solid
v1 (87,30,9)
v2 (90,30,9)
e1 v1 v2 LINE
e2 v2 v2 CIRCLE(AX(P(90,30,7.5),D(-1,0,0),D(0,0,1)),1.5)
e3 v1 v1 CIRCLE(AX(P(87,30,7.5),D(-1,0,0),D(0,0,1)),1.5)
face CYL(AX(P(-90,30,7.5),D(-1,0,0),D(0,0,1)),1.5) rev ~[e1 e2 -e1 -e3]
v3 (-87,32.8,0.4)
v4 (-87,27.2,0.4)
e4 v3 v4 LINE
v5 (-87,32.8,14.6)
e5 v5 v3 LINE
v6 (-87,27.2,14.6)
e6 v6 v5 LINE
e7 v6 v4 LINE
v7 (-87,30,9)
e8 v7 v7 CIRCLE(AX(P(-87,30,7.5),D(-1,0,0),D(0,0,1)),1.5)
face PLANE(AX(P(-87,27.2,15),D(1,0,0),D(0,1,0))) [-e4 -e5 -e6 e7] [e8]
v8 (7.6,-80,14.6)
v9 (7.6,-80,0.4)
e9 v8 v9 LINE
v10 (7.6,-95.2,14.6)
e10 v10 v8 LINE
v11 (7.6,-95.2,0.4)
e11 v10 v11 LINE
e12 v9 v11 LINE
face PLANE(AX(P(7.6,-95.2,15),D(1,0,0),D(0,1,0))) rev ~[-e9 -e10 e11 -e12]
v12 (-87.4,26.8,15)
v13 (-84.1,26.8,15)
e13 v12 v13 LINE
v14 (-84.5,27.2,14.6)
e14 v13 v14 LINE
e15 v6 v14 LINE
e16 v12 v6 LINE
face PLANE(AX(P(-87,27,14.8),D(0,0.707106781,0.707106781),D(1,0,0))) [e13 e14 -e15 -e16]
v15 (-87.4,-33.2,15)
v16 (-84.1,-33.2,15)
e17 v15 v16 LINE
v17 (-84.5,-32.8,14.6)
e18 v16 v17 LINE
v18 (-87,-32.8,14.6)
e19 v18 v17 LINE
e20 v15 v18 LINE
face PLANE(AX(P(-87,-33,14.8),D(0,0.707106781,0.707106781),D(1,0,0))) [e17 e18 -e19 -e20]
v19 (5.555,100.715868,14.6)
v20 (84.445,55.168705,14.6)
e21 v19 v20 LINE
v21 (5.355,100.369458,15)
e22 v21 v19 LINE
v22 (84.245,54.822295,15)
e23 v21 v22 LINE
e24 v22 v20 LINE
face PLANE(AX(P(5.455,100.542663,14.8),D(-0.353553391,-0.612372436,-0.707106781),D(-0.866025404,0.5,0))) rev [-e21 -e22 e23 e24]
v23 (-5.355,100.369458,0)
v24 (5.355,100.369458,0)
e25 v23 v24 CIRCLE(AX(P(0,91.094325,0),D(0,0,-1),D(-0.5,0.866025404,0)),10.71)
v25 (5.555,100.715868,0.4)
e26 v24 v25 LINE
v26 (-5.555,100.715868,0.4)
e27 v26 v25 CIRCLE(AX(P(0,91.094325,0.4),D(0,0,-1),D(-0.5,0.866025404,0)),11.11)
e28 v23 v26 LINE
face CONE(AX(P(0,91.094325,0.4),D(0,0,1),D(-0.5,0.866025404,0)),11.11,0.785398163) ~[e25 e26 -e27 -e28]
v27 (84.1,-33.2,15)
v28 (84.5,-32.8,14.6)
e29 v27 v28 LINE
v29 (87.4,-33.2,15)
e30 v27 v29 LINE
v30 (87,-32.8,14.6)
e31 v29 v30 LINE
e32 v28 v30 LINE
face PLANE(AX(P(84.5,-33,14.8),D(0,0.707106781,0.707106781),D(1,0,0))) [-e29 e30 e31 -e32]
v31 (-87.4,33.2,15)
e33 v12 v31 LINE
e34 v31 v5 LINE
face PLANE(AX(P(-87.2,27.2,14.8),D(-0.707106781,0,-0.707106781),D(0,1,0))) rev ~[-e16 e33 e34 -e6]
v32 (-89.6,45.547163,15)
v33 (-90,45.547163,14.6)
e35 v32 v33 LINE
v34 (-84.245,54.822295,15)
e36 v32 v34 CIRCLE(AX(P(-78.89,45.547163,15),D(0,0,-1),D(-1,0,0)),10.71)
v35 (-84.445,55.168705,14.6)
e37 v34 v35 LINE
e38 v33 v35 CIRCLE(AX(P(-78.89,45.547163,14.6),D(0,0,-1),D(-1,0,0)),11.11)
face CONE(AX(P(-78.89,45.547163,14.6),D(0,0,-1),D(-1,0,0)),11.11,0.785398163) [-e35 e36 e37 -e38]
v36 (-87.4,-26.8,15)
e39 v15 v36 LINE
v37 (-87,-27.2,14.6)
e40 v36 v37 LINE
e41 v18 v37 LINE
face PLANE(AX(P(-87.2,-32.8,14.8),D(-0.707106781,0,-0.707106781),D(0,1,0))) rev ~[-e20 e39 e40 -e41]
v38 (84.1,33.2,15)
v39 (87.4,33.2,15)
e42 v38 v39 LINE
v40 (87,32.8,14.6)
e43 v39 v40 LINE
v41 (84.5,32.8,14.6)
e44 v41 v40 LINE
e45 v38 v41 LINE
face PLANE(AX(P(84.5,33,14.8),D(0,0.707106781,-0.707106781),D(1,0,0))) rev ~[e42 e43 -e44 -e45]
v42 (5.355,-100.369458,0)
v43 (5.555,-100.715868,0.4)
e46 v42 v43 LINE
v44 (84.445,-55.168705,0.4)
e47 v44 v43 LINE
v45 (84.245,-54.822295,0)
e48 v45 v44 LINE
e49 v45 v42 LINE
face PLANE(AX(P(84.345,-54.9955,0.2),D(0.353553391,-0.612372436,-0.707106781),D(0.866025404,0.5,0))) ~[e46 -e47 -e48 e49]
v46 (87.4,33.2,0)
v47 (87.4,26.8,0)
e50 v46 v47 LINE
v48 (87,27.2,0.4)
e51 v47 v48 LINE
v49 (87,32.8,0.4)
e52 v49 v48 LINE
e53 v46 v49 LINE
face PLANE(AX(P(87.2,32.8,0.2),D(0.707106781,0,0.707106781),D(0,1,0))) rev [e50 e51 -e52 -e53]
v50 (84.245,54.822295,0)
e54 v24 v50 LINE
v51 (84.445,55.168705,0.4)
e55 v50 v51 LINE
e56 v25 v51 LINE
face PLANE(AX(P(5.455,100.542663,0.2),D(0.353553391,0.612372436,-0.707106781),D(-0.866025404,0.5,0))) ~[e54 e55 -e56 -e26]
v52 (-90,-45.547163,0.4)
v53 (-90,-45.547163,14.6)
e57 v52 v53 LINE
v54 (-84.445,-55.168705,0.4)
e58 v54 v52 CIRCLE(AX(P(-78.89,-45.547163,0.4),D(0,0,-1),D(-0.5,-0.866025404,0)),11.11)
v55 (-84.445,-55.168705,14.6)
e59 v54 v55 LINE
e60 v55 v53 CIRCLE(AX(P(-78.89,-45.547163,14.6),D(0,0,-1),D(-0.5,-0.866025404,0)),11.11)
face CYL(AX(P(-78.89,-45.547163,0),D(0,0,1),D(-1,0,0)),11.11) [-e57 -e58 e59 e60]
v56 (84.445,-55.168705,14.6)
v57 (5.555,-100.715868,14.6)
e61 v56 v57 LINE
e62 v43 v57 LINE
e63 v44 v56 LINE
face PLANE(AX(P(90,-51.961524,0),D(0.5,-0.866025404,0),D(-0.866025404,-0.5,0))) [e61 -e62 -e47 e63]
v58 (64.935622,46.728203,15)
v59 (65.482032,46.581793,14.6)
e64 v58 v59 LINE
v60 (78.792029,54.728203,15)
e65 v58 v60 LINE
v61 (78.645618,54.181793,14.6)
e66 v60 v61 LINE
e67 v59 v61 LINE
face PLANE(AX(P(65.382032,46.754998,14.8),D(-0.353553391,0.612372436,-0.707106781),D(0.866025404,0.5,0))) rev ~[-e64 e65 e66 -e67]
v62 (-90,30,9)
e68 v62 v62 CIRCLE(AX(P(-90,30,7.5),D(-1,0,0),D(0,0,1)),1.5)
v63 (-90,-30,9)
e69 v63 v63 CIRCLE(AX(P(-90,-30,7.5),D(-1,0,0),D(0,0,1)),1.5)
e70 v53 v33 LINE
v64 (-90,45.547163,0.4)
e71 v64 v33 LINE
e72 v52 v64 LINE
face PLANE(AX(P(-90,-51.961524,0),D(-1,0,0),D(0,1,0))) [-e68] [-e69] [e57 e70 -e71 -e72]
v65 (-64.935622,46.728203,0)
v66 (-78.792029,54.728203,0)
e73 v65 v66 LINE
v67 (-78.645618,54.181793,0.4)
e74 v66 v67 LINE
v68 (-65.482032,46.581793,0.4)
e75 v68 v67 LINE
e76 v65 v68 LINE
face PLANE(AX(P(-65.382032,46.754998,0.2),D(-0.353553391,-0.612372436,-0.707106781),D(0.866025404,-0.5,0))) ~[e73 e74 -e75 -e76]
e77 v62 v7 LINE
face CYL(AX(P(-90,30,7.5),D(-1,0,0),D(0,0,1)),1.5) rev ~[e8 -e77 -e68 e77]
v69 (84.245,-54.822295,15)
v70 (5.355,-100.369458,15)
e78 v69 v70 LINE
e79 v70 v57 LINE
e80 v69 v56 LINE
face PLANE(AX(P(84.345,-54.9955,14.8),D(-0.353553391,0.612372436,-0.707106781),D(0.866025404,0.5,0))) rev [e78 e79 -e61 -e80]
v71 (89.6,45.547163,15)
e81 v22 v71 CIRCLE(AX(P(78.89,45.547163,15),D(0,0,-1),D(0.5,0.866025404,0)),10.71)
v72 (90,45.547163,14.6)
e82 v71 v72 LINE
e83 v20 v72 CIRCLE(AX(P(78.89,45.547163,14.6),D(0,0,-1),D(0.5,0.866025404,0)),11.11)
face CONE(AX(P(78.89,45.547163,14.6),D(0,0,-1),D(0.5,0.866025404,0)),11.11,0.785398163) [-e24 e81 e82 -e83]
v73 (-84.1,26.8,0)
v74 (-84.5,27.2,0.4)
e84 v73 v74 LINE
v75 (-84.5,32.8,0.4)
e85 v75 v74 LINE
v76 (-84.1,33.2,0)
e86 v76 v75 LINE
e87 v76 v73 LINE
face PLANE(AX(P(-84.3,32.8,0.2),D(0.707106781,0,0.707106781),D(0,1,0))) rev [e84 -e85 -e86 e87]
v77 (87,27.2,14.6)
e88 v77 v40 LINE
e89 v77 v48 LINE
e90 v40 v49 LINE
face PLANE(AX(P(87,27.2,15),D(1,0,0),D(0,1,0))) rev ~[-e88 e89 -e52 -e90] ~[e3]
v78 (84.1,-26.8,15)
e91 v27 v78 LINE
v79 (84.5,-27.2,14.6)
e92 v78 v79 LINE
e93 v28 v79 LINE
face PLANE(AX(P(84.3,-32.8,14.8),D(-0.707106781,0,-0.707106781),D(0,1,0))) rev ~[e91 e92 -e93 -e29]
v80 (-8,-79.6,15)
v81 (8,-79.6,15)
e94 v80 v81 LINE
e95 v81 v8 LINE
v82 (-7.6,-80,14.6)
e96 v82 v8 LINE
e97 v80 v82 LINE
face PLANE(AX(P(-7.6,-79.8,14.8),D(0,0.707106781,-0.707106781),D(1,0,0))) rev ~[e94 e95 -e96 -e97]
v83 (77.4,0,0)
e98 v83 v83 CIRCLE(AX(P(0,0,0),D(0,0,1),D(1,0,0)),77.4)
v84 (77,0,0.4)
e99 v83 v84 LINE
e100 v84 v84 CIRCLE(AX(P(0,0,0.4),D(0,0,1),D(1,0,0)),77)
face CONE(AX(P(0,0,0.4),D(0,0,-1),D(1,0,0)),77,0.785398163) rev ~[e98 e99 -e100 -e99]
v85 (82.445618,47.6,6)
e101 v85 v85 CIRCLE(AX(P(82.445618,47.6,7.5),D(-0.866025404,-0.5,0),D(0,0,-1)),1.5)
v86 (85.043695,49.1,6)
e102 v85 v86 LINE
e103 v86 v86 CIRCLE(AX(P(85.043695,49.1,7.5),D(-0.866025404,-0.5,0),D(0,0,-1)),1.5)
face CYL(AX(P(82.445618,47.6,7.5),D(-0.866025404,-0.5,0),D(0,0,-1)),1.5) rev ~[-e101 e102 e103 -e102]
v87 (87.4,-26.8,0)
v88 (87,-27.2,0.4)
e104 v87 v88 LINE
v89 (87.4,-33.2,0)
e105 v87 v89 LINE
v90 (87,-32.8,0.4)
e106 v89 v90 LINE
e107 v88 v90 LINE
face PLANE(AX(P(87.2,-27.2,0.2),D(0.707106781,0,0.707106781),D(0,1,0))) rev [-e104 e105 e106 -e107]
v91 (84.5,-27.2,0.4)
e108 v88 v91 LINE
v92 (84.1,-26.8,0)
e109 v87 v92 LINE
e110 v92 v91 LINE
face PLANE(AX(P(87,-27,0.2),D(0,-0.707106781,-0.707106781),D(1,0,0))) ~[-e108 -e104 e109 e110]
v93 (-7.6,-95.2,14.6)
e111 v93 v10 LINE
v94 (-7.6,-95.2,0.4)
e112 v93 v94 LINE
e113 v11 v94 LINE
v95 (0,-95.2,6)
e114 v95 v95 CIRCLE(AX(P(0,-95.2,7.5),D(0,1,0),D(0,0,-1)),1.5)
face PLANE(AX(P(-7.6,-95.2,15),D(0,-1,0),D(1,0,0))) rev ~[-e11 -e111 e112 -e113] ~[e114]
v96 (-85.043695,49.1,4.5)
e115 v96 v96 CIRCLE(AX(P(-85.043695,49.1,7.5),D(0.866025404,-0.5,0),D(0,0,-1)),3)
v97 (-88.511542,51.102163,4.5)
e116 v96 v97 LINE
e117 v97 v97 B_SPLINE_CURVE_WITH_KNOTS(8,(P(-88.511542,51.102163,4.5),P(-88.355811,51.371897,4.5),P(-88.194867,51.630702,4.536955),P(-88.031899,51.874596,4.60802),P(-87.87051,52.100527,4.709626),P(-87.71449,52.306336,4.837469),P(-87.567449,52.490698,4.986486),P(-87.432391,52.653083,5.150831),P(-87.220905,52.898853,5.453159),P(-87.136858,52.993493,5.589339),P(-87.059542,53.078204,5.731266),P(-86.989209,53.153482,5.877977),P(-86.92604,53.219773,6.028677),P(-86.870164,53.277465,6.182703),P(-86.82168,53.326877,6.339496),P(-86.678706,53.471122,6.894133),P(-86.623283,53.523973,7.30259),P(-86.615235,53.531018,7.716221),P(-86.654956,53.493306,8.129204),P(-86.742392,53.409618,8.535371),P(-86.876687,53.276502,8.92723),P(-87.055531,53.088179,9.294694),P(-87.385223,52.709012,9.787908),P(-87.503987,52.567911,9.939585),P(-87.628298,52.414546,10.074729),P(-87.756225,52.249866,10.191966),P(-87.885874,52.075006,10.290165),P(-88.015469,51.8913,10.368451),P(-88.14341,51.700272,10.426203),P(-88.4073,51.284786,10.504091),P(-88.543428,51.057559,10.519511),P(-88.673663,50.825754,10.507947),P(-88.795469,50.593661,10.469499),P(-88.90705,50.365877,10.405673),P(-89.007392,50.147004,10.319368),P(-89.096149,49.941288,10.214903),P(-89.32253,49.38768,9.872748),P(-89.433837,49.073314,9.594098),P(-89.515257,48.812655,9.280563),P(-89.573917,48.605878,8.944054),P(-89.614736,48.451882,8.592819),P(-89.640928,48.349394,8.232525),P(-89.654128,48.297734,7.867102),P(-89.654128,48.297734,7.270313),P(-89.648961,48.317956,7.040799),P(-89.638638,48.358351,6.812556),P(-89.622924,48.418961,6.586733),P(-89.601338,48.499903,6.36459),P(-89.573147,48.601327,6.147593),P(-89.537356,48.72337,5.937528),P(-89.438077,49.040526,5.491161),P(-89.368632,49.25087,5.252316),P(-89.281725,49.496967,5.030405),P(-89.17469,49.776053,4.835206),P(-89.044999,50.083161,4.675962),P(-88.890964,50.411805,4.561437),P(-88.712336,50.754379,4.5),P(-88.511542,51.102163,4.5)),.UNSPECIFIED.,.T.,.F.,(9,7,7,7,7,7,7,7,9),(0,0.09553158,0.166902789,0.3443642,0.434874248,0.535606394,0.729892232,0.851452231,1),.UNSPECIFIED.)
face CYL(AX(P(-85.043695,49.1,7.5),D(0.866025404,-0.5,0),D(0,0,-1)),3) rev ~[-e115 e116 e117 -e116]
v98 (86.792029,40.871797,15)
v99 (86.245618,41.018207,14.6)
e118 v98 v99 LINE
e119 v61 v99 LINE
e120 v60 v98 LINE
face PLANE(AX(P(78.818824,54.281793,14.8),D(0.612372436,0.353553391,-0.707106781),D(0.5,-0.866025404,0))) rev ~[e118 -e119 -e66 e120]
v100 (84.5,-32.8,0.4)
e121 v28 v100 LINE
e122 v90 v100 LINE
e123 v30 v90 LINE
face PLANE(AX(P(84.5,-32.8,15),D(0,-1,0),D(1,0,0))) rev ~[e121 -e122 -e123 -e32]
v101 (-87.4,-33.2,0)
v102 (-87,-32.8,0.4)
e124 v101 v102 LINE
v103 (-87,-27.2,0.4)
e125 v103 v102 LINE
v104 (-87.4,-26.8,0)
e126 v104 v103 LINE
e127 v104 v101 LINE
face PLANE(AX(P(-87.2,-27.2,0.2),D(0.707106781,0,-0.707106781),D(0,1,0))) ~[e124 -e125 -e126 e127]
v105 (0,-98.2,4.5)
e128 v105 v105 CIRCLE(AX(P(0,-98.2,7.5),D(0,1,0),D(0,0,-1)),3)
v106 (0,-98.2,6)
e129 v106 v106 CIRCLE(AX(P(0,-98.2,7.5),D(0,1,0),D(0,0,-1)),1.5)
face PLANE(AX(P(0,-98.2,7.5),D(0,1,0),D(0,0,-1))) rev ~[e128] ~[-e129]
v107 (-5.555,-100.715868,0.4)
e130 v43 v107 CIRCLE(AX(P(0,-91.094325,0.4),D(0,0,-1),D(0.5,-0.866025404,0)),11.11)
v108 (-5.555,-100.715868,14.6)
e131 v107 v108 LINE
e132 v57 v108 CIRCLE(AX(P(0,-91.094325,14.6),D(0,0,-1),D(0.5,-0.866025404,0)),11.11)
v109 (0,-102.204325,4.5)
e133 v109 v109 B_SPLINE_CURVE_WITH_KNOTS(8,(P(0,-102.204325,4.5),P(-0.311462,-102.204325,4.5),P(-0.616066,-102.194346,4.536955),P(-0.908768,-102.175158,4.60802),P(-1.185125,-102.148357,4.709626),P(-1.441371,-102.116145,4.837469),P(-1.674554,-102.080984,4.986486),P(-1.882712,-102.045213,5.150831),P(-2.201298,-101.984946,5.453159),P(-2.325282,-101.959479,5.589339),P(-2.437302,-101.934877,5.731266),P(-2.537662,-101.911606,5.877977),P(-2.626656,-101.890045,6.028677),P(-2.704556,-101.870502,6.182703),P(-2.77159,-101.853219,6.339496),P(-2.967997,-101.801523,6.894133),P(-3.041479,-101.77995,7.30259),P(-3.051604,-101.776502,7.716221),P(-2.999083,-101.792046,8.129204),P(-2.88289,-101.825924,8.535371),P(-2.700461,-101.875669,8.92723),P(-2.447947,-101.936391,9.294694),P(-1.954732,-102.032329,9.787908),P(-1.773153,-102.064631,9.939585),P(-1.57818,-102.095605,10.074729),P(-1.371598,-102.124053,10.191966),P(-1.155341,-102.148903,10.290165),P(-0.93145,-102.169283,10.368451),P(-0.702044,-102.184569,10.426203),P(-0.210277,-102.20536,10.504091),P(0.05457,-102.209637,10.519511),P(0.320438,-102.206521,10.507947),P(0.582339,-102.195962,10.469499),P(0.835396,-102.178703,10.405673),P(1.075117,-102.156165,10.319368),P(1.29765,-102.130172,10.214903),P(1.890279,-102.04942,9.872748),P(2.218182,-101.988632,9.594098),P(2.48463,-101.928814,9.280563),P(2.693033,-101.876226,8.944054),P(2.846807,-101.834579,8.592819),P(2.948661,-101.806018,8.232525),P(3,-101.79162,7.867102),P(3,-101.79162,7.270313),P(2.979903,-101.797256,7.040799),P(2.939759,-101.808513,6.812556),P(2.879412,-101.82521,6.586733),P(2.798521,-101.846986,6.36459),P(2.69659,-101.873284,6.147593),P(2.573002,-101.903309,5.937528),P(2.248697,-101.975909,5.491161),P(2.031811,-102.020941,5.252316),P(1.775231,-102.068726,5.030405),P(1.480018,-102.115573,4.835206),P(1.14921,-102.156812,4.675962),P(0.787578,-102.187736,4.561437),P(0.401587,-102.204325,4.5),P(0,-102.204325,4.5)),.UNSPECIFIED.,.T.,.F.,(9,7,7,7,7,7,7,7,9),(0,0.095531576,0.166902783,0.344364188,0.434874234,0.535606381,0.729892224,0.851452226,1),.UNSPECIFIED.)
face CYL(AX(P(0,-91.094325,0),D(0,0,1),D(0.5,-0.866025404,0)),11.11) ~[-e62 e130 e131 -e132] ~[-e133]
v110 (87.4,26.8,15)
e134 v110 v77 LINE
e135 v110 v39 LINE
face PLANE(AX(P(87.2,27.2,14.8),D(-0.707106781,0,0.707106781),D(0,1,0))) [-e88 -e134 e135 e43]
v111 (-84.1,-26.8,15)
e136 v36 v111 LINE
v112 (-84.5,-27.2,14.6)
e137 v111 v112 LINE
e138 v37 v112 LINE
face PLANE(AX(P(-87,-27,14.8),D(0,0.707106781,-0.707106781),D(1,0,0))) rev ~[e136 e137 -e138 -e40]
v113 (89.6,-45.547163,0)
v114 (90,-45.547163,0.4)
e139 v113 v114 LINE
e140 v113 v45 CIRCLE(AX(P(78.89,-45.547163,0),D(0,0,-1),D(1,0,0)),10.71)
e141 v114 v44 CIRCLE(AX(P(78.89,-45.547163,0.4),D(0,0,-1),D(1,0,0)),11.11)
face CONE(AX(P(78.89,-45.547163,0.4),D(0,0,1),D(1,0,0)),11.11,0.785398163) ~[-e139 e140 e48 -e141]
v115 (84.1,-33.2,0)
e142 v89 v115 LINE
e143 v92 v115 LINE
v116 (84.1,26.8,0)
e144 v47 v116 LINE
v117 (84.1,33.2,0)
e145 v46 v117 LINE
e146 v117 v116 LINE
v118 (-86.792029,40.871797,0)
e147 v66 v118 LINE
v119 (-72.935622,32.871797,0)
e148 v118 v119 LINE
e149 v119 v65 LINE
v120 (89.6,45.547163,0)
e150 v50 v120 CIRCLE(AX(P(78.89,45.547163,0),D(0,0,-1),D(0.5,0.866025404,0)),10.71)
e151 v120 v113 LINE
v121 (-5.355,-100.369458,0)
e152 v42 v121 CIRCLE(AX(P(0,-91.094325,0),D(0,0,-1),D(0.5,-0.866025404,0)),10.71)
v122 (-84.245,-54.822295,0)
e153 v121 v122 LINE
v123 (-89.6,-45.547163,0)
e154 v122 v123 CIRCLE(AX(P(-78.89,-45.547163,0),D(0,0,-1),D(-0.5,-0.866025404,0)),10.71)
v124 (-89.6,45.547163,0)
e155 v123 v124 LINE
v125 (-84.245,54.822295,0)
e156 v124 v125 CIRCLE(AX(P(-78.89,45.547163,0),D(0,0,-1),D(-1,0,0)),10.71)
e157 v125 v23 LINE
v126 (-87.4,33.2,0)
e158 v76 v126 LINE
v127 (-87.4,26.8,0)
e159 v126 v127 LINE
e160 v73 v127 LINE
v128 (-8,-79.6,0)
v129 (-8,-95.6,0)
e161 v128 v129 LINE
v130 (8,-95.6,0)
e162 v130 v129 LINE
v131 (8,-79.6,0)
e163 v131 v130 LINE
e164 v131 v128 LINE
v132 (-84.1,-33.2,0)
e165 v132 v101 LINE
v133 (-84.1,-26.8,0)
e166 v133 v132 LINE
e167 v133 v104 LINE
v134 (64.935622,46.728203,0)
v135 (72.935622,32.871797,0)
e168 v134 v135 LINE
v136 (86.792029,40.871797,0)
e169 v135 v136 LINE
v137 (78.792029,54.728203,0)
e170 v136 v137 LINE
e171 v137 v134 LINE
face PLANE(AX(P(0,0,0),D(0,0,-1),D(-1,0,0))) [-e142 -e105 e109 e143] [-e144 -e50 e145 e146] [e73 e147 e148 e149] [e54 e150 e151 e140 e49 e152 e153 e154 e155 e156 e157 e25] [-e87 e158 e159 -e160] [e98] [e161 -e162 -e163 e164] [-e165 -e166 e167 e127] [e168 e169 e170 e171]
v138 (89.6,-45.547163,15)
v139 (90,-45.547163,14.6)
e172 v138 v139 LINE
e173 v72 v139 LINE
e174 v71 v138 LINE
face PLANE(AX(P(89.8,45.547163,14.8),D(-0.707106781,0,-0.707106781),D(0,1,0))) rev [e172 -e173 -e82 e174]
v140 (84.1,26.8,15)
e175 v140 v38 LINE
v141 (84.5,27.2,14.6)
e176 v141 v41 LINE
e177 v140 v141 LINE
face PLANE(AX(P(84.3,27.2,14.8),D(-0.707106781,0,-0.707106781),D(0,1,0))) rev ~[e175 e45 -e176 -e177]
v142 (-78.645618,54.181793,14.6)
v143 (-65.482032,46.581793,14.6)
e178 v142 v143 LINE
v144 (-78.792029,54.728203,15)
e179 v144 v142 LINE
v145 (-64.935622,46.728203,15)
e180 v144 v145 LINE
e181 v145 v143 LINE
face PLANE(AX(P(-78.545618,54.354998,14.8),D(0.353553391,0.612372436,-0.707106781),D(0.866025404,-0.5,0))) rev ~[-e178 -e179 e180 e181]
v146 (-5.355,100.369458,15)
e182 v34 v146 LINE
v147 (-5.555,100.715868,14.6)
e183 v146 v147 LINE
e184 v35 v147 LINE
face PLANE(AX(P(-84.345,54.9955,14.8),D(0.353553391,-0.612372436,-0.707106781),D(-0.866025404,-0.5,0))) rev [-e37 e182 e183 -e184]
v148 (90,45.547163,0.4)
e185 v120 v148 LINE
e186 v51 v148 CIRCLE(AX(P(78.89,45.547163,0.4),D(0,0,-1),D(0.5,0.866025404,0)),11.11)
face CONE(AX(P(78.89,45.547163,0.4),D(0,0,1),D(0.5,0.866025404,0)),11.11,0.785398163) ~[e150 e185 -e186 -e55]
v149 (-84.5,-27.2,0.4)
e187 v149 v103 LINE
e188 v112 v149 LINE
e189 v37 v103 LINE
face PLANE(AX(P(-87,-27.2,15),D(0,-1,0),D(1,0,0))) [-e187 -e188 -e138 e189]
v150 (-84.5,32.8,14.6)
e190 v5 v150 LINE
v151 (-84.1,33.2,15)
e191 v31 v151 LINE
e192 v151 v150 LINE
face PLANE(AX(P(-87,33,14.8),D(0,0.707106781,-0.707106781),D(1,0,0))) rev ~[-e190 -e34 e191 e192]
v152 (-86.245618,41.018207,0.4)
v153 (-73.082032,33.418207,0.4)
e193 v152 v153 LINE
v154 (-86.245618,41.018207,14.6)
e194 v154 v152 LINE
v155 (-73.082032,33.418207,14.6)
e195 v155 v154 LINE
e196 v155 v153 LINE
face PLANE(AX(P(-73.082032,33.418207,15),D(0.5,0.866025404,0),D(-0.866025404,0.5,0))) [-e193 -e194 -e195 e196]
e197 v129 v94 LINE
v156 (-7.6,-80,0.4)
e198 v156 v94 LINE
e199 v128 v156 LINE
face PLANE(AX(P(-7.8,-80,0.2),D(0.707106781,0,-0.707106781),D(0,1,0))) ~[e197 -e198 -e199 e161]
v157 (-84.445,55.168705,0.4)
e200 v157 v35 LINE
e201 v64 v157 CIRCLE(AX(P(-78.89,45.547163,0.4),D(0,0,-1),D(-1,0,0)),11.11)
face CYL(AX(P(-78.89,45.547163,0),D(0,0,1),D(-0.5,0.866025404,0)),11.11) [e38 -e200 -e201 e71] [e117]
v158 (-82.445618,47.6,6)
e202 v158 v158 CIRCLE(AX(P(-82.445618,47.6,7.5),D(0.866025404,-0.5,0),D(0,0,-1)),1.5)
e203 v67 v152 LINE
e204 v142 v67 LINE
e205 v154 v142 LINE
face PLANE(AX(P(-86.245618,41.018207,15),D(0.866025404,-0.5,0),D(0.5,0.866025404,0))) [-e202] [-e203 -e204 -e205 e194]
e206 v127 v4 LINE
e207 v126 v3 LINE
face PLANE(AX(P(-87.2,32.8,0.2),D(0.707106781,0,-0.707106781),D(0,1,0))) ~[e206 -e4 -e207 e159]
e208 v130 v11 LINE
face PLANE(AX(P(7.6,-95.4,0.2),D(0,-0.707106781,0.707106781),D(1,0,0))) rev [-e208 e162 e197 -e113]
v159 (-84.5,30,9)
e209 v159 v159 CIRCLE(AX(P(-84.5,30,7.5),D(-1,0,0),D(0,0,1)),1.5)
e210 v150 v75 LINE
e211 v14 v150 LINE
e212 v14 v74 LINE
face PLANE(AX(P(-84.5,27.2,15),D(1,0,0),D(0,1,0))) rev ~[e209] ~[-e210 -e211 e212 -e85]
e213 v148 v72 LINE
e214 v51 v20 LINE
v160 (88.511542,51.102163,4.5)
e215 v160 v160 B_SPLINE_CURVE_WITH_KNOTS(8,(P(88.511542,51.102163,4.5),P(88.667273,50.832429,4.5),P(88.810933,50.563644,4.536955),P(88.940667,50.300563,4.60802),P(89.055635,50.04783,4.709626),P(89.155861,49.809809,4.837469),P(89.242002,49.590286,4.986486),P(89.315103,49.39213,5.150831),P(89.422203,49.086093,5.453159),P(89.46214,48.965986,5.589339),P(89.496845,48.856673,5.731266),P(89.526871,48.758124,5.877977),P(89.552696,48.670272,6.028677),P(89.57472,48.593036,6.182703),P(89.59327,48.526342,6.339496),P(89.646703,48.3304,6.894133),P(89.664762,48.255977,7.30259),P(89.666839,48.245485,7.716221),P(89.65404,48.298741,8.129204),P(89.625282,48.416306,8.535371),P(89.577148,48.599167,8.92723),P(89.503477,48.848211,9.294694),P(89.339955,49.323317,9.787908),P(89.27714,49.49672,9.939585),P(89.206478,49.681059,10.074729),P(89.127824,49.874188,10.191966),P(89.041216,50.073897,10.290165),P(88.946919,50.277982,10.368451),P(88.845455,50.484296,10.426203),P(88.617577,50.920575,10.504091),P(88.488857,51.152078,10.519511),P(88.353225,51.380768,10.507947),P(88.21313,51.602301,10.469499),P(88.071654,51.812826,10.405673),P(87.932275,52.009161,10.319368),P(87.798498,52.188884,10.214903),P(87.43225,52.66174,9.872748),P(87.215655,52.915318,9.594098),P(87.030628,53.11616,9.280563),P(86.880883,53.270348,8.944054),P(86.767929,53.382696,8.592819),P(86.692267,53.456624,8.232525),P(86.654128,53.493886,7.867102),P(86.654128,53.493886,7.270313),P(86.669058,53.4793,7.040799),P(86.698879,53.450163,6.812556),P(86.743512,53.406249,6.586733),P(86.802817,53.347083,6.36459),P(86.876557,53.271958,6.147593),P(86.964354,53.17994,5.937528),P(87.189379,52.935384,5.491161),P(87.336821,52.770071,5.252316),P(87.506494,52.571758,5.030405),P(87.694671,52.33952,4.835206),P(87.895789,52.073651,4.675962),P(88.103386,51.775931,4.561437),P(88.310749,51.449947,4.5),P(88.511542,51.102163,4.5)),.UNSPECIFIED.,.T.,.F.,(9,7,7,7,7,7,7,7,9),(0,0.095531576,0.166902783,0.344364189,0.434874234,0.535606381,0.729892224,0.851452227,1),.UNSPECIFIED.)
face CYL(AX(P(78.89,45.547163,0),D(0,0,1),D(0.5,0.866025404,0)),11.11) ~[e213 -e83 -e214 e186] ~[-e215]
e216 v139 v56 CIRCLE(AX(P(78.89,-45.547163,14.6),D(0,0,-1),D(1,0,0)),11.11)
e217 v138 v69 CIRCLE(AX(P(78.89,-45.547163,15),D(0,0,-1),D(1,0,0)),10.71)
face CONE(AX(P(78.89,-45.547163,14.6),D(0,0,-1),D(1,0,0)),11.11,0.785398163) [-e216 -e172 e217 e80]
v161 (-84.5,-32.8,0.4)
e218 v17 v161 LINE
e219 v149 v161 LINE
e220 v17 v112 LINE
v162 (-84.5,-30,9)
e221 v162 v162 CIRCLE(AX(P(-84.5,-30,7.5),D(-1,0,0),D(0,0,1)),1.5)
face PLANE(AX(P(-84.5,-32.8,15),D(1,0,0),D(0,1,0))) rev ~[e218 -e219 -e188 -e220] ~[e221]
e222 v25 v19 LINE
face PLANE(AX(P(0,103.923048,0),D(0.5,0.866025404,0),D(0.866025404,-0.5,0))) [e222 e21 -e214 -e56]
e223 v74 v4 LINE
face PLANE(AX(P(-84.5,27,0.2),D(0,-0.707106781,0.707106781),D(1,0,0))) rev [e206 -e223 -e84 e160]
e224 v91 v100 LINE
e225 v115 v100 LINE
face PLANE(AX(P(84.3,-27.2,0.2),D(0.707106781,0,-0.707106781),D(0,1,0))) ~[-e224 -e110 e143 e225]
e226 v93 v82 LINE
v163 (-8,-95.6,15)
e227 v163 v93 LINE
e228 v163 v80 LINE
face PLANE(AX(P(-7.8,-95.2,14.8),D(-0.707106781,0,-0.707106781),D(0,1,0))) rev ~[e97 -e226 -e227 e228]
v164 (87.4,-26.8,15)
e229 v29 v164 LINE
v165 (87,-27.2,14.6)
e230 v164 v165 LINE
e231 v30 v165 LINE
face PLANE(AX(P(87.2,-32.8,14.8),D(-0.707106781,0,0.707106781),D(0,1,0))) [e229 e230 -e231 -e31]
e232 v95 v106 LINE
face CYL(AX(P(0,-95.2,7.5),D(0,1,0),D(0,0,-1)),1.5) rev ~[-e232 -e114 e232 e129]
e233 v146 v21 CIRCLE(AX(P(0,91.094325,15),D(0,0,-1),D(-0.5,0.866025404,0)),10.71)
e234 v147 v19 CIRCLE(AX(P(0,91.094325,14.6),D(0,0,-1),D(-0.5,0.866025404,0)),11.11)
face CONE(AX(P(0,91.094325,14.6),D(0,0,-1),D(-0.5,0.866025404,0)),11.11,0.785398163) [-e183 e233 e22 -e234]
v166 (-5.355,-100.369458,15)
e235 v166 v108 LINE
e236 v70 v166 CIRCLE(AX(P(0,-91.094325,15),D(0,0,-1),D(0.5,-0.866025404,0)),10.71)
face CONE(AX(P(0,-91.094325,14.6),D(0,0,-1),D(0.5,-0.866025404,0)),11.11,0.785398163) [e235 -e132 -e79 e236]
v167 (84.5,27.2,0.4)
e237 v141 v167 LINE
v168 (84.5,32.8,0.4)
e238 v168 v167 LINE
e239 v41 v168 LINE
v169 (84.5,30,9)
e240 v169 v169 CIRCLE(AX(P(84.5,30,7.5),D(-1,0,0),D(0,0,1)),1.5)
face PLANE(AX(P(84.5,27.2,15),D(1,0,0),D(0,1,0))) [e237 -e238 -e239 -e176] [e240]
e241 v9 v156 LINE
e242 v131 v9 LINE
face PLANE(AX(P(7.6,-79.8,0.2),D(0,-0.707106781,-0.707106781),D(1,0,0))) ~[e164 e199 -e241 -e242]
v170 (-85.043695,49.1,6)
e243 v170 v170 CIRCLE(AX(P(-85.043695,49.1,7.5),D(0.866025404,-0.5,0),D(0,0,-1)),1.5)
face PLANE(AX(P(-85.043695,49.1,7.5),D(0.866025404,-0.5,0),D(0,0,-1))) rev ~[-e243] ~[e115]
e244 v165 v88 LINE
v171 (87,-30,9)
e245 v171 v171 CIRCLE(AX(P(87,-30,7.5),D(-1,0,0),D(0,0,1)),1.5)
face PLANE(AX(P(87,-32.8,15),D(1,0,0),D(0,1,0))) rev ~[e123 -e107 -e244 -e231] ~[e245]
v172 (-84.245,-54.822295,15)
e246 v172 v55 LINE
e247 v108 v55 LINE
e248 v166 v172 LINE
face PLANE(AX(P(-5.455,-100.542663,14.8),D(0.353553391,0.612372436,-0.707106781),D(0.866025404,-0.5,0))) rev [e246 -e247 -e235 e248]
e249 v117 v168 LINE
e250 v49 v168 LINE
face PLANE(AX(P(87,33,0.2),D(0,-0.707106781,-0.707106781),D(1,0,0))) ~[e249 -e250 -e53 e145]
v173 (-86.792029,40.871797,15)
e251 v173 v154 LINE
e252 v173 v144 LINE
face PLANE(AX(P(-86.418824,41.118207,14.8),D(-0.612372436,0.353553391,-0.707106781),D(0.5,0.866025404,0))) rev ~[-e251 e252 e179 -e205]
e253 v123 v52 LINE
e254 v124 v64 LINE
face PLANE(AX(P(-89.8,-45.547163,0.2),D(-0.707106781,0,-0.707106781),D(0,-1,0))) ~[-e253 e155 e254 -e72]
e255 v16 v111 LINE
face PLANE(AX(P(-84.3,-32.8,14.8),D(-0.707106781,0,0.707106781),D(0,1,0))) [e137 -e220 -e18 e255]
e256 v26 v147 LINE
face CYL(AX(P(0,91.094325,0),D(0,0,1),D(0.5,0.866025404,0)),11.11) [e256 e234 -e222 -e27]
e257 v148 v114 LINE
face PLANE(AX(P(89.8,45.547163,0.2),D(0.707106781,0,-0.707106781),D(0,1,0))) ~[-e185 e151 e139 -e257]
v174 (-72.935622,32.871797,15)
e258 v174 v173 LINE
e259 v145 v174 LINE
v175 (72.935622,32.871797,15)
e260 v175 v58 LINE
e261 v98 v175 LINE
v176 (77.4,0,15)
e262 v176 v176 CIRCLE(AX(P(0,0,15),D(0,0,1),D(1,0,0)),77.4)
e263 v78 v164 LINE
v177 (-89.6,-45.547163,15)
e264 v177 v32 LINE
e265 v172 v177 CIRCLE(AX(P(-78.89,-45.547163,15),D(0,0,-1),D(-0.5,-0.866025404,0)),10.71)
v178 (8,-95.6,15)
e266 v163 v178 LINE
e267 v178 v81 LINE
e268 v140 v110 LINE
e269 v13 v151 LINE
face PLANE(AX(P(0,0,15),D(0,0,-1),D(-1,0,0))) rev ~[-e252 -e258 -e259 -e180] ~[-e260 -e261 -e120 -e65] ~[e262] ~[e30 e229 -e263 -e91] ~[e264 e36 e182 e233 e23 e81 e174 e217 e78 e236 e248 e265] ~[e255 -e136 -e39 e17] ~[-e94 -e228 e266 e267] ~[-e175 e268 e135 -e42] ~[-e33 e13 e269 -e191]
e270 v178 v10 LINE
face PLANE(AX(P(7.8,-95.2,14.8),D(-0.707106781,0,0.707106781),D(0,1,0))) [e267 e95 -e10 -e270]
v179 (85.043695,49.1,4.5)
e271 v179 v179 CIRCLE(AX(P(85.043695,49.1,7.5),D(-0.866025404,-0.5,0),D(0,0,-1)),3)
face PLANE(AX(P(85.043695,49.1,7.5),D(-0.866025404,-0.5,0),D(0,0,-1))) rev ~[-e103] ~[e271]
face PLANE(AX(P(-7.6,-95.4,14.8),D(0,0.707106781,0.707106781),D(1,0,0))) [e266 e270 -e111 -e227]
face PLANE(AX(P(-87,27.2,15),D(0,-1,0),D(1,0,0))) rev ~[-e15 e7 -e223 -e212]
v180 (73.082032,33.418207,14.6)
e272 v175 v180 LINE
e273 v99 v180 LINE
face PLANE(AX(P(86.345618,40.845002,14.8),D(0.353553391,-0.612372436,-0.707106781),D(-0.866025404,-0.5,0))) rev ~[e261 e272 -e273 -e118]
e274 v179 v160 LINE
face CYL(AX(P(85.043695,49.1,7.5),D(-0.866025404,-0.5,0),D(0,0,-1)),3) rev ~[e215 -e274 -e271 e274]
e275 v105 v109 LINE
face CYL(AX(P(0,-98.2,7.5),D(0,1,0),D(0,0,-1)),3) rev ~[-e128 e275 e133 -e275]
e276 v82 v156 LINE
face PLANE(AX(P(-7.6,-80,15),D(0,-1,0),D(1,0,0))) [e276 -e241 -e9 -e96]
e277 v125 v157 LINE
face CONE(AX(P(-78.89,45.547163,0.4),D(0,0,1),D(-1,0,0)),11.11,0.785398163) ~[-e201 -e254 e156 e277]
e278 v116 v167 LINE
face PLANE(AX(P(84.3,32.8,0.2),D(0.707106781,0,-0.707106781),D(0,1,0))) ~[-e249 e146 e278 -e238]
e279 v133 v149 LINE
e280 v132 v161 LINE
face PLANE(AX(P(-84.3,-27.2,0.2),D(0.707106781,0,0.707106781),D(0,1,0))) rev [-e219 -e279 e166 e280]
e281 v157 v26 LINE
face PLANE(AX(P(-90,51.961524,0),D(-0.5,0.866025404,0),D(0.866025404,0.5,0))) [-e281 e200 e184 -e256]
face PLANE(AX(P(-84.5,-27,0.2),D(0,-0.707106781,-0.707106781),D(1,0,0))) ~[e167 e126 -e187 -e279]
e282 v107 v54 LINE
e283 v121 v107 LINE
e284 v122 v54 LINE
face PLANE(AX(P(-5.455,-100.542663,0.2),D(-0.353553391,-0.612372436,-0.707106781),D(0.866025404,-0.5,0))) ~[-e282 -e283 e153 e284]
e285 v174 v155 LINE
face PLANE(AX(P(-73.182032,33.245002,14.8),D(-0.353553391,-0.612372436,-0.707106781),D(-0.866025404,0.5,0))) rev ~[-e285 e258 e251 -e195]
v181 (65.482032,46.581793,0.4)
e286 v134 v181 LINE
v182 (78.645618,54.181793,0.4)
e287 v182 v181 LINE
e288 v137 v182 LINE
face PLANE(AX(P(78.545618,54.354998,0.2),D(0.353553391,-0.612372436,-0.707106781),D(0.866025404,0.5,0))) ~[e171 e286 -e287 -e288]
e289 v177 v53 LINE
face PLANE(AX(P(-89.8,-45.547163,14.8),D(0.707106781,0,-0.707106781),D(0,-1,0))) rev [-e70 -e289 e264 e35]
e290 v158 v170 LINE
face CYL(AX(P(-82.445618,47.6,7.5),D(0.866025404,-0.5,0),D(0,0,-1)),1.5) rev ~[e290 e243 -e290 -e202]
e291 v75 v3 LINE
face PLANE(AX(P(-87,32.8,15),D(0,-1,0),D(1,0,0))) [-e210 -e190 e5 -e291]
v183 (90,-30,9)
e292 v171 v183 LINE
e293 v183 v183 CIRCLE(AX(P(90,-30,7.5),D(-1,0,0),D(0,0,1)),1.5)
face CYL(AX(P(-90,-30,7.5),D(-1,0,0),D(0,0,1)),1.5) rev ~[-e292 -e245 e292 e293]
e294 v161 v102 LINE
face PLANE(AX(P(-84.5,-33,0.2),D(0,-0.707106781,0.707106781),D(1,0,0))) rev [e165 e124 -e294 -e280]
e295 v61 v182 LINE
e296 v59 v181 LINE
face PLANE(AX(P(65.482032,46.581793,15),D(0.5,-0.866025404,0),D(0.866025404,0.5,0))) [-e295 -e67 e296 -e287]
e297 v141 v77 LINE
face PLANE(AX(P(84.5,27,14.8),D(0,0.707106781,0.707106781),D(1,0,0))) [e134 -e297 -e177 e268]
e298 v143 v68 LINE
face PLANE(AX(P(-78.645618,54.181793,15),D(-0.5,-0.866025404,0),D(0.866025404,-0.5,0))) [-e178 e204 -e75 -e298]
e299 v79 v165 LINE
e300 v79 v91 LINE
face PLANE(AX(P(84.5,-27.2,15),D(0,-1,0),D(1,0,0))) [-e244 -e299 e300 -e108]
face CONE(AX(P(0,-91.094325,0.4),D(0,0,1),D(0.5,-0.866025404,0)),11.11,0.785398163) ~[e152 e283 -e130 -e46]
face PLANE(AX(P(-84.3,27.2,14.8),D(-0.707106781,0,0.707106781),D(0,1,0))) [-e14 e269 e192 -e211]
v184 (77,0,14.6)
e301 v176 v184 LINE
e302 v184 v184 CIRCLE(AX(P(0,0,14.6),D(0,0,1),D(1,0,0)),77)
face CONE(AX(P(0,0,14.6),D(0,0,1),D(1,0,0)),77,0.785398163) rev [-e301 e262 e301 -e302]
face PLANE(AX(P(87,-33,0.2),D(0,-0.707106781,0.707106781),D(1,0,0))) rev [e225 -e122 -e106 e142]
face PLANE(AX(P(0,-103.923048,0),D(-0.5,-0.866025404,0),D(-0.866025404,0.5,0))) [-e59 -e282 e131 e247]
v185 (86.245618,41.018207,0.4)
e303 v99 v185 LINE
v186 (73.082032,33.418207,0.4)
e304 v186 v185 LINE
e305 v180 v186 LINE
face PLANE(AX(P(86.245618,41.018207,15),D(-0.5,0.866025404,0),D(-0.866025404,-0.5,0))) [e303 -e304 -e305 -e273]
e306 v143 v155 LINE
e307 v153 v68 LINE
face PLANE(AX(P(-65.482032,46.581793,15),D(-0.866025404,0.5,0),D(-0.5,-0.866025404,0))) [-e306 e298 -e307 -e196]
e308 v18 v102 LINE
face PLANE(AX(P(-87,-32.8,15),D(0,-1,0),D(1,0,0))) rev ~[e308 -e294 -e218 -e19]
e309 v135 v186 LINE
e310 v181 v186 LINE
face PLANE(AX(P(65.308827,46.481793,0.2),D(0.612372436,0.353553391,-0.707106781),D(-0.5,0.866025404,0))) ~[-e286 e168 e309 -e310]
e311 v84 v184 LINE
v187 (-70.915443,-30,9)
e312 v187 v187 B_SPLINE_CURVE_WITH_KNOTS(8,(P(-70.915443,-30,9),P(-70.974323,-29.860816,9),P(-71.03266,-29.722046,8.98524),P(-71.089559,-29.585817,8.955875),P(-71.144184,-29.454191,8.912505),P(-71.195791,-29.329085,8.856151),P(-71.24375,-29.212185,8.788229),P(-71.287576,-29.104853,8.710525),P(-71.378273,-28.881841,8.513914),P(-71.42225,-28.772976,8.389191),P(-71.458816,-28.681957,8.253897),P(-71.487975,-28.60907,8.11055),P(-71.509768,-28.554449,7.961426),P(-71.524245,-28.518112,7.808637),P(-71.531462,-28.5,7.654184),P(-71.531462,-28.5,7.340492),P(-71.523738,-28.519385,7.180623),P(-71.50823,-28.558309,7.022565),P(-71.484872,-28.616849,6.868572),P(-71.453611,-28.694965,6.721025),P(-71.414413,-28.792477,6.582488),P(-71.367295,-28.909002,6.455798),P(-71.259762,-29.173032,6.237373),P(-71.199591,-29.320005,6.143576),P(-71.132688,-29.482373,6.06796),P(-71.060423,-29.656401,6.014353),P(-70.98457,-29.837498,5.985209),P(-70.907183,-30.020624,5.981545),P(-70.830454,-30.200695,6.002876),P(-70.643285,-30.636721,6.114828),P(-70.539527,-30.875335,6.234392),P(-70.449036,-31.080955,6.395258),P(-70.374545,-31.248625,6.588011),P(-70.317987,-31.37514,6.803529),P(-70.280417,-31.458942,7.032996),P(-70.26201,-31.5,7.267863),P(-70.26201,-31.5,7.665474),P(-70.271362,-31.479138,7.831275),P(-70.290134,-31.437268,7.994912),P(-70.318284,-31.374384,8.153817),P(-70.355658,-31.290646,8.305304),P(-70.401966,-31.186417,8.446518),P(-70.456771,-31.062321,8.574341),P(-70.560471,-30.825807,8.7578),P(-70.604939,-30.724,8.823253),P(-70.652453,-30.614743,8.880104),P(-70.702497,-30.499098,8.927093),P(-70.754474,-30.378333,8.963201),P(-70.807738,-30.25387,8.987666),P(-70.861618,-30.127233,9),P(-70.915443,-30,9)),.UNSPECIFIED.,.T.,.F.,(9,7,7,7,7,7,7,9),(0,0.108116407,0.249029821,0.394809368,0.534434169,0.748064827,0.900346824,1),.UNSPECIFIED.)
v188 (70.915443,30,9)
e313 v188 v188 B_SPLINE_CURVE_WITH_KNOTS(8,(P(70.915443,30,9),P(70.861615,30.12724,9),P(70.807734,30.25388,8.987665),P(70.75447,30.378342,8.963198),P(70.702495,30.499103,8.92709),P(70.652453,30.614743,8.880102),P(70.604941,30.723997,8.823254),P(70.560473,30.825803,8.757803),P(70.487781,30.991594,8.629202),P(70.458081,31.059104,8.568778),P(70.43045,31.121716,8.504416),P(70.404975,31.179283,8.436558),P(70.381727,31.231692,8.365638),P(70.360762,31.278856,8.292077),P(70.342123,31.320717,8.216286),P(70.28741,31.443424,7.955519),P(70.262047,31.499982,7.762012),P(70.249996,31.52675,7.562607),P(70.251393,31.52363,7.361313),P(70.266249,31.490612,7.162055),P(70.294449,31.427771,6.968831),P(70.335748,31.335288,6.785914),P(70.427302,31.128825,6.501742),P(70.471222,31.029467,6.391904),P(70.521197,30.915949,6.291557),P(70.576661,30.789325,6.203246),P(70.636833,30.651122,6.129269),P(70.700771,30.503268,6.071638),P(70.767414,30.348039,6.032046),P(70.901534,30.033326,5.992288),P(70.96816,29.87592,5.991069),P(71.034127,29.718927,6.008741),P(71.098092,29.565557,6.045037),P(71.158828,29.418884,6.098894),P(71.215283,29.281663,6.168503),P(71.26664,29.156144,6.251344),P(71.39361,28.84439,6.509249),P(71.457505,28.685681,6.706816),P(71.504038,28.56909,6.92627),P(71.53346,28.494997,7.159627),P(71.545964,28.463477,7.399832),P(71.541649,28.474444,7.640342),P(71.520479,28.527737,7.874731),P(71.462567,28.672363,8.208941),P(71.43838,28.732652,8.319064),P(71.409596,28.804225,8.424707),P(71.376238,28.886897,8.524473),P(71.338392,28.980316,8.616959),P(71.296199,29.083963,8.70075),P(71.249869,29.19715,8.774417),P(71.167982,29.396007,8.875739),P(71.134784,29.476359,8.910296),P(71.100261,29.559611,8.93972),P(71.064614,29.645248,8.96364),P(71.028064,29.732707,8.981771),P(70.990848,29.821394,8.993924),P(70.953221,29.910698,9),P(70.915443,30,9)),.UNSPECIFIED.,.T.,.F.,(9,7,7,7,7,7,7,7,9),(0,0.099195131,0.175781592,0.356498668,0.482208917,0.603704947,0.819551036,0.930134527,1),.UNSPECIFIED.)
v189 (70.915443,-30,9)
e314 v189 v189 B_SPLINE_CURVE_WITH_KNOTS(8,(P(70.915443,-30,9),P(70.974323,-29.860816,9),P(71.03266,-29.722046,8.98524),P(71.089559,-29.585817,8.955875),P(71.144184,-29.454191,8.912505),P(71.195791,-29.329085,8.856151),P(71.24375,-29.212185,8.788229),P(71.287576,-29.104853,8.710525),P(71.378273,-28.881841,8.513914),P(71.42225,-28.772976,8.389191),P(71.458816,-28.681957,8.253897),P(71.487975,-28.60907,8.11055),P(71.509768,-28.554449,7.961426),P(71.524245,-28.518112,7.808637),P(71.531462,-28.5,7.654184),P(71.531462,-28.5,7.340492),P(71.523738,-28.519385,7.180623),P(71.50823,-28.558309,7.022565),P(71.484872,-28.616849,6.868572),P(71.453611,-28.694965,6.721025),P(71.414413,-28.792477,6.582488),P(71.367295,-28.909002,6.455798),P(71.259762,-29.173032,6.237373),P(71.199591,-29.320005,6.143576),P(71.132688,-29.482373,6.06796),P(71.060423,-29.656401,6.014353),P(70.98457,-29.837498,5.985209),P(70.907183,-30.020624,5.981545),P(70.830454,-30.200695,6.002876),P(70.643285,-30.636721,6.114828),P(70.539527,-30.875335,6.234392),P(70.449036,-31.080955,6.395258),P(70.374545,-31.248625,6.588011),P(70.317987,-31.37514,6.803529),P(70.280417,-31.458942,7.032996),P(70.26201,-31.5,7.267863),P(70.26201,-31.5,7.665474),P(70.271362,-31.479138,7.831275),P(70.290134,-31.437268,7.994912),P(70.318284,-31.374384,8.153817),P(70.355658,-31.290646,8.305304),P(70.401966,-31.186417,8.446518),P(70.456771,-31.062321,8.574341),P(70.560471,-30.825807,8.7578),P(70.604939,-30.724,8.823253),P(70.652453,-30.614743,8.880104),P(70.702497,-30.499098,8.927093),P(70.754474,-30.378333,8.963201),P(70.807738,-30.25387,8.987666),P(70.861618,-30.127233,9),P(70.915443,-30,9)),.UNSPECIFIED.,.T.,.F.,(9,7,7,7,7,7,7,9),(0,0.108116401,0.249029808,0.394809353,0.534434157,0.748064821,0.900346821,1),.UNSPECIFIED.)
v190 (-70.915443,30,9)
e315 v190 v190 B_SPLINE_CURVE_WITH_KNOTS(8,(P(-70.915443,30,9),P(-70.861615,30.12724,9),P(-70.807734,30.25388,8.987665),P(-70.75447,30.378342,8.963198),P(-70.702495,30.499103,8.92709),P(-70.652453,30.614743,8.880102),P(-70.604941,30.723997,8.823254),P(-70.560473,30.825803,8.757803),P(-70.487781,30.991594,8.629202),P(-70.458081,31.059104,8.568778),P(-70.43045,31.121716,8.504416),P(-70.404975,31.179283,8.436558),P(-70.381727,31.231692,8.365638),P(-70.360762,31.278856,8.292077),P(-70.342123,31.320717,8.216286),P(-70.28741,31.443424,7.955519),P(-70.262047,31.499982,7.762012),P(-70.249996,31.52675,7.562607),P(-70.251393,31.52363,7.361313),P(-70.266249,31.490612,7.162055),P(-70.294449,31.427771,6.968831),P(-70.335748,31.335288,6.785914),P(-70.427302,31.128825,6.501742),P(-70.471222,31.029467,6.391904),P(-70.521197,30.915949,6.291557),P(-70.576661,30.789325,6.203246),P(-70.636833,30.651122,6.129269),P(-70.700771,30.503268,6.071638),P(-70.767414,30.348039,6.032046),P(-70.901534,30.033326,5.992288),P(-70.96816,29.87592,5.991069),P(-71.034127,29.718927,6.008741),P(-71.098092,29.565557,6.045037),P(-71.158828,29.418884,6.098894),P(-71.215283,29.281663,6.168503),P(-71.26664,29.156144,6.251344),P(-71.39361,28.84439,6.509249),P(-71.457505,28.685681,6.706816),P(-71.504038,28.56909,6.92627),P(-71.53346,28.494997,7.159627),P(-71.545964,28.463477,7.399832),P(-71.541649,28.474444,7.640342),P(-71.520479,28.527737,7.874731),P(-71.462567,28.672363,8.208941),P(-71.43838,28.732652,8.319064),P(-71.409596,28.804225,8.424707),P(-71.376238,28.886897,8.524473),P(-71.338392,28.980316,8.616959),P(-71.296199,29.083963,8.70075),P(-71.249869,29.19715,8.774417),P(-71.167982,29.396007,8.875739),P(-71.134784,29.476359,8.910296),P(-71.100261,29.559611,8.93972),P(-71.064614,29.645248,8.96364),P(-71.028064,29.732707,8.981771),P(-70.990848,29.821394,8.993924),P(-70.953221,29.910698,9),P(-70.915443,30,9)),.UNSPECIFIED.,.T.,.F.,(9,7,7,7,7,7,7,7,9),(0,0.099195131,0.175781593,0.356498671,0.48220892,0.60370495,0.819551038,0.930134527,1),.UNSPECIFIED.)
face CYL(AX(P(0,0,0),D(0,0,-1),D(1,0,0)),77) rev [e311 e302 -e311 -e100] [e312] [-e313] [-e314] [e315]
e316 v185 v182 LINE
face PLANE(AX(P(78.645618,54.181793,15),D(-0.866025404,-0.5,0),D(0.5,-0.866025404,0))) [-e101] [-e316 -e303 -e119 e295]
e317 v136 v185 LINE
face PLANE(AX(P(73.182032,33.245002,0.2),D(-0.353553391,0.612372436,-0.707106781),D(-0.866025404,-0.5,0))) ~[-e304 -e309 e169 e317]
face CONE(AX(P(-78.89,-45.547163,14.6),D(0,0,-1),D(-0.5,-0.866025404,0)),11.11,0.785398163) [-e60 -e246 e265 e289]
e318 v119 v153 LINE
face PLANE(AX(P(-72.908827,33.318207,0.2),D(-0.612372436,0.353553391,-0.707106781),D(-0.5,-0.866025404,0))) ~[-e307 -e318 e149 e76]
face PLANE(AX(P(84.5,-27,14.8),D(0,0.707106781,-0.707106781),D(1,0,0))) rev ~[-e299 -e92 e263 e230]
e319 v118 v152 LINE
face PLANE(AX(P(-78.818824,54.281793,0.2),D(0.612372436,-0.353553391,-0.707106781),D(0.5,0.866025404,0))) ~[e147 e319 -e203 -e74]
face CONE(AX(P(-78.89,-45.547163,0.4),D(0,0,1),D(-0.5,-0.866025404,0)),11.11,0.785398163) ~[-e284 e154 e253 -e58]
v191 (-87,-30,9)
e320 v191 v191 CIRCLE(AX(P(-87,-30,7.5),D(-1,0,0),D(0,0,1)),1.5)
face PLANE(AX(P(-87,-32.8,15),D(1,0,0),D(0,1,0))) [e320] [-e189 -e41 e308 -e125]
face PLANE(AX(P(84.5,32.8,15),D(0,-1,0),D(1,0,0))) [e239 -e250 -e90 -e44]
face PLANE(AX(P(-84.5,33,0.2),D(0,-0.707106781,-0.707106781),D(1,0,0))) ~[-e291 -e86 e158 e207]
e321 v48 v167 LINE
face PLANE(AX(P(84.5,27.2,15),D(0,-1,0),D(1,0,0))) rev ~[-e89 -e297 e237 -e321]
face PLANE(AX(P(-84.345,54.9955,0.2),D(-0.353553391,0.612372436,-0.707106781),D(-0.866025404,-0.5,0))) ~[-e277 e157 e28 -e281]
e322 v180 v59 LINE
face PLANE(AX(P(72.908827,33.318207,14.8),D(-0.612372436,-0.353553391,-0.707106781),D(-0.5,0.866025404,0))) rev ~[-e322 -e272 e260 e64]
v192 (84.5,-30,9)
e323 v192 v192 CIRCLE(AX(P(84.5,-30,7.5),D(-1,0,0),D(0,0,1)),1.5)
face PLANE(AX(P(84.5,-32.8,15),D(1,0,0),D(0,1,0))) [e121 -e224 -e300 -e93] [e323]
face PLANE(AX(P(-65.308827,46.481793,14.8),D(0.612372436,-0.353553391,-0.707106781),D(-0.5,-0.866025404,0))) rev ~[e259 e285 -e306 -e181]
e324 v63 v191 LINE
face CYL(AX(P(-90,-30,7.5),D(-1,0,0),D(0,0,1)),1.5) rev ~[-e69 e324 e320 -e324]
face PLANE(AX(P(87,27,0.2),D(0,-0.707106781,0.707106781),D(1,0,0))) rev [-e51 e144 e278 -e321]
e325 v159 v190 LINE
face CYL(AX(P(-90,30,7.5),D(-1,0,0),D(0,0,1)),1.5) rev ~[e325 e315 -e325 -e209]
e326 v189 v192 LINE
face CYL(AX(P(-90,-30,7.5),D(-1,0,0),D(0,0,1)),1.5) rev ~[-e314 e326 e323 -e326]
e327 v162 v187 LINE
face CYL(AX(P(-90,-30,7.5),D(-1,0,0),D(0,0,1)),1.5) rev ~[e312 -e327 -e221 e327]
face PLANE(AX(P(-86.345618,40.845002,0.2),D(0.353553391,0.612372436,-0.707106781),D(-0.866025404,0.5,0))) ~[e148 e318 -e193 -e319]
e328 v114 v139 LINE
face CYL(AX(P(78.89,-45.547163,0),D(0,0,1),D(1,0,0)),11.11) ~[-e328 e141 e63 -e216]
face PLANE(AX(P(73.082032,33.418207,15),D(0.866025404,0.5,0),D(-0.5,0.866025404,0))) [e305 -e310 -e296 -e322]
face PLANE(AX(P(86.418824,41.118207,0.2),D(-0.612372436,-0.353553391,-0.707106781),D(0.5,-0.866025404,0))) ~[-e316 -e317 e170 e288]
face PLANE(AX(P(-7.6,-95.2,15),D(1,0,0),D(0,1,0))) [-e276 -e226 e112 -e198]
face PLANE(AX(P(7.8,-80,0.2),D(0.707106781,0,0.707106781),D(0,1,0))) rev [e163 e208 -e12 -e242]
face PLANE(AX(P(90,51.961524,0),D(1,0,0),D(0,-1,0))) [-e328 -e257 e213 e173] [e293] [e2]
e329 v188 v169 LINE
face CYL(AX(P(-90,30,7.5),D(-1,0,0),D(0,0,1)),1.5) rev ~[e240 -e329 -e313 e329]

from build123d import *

# Parameters (mm, degrees)
SKETCH1_R           = 77
BOSS_EXTRUDE1_DEPTH = 15
SKETCH2_W           = 15.2
SKETCH2_H           = 15.2
CUT_EXTRUDE1_DEPTH  = 16
FILLET1_R           = 11.11
SKETCH9_R           = 1.5
CUT_EXTRUDE6_DEPTH  = 3
SKETCH10_R          = 3
CUT_EXTRUDE7_DEPTH  = 31.844449077
CIRPATTERN2_COUNT   = 3
SKETCH13_R          = 1.5
CUT_EXTRUDE10_DEPTH = 181.0000001
SKETCH14_W          = 2.5
SKETCH14_H          = 5.6
CUT_EXTRUDE11_DEPTH = 16.0000001
CHAMFER1_SIZE       = 0.4


with BuildPart() as part:
    # Sketch1 → Boss-Extrude1 (new body)
    with BuildSketch(Plane.XY):
        Polygon((0, 103.923048454), (90, 51.961524227), (90, -51.961524227), (0, -103.923048454), (-90, -51.961524227), (-90, 51.961524227), align=None)
        Circle(SKETCH1_R, mode=Mode.SUBTRACT)
    extrude(amount=BOSS_EXTRUDE1_DEPTH)

    # Sketch2 → Cut-Extrude1 (cut, through all)
    with BuildSketch(Plane.XY.offset(15)):
        with Locations((0, -87.6)):
            Rectangle(SKETCH2_W, SKETCH2_H)
        Polygon((-65.482032303, 46.581793069), (-73.082032303, 33.418206931), (-86.24561844, 41.018206931), (-78.64561844, 54.181793069), align=None)
        Polygon((73.082032303, 33.418206931), (65.482032303, 46.581793069), (78.64561844, 54.181793069), (86.24561844, 41.018206931), align=None)
    extrude(amount=-CUT_EXTRUDE1_DEPTH, mode=Mode.SUBTRACT)

    # Fillet1
    fillet1_edges = [part.edges().sort_by_distance(p)[0] for p in [
        (0, -103.923048454, 7.5),
        (-90, -51.961524227, 7.5),
        (-90, 51.961524227, 7.5),
        (0, 103.923048454, 7.5),
        (90, 51.961524227, 7.5),
        (90, -51.961524227, 7.5),
    ]]
    fillet(fillet1_edges, radius=FILLET1_R)

    # Sketch9 → Cut-Extrude6 (cut)
    with BuildSketch(Plane(origin=(-82.44561844, 47.6, 0), x_dir=(0, 0, -1), z_dir=(0.866025404, -0.5, 0))):
        with Locations((-7.5, 0)):
            Circle(SKETCH9_R)
    cut_extrude6 = extrude(amount=-CUT_EXTRUDE6_DEPTH, mode=Mode.SUBTRACT)

    # Sketch10 → Cut-Extrude7 (cut, through all)
    with BuildSketch(Plane(origin=(-85.043694652, 49.1, 0), x_dir=(0, 0, -1), z_dir=(0.866025404, -0.5, 0))):
        with Locations((-7.5, 0)):
            Circle(SKETCH10_R)
    cut_extrude7 = extrude(amount=-CUT_EXTRUDE7_DEPTH, mode=Mode.SUBTRACT)

    # CirPattern2: Cut-Extrude6, Cut-Extrude7 ×3 about axis
    cirpattern2_axis = Axis((0, 0, 0), (0, 0, 1))
    for i in range(1, CIRPATTERN2_COUNT):
        add(cut_extrude6.rotate(cirpattern2_axis, i * 360 / CIRPATTERN2_COUNT), mode=Mode.SUBTRACT)
        add(cut_extrude7.rotate(cirpattern2_axis, i * 360 / CIRPATTERN2_COUNT), mode=Mode.SUBTRACT)

    # Sketch13 → Cut-Extrude10 (cut, through all)
    with BuildSketch(Plane.ZY.offset(90)):
        with Locations((7.5, -30)):
            Circle(SKETCH13_R)
        with Locations((7.5, 30)):
            Circle(SKETCH13_R)
    extrude(amount=-CUT_EXTRUDE10_DEPTH, mode=Mode.SUBTRACT)

    # Sketch14 → Cut-Extrude11 (cut, through all)
    with BuildSketch(Plane.XY.offset(15)):
        with Locations((-85.75, 30)):
            Rectangle(SKETCH14_W, SKETCH14_H)
        with Locations((-85.75, -30)):
            Rectangle(SKETCH14_W, SKETCH14_H)
        with Locations((85.75, -30)):
            Rectangle(SKETCH14_W, SKETCH14_H)
        with Locations((85.75, 30)):
            Rectangle(SKETCH14_W, SKETCH14_H)
    extrude(amount=-CUT_EXTRUDE11_DEPTH, mode=Mode.SUBTRACT)

    # Chamfer1
    chamfer1_edges = [part.edges().sort_by_distance(p)[0] for p in [
        (-77, 0, 0),
        (-77, 0, 15),
        (87, 30, 0),
        (84.5, 30, 0),
        (85.75, 32.8, 0),
        (85.75, 27.2, 0),
        (85.75, 32.8, 15),
        (84.5, 30, 15),
        (85.75, 27.2, 15),
        (87, 30, 15),
        (87, -30, 0),
        (84.5, -30, 0),
        (85.75, -32.8, 0),
        (85.75, -27.2, 0),
        (87, -30, 15),
        (85.75, -27.2, 15),
        (84.5, -30, 15),
        (85.75, -32.8, 15),
        (-87, -30, 0),
        (-84.5, -30, 0),
        (-85.75, -32.8, 0),
        (-85.75, -27.2, 0),
        (-85.75, -32.8, 15),
        (-84.5, -30, 15),
        (-85.75, -27.2, 15),
        (-87, -30, 15),
        (-87, 30, 0),
        (-84.5, 30, 0),
        (-85.75, 32.8, 0),
        (-85.75, 27.2, 0),
        (-87, 30, 15),
        (-85.75, 27.2, 15),
        (-84.5, 30, 15),
        (-85.75, 32.8, 15),
        (7.6, -87.6, 0),
        (0, -95.2, 0),
        (-7.6, -87.6, 0),
        (0, -80, 0),
        (7.6, -87.6, 15),
        (0, -80, 15),
        (-7.6, -87.6, 15),
        (0, -95.2, 15),
        (-79.663825372, 37.218206931, 0),
        (-82.44561844, 47.6, 0),
        (-72.063825372, 50.381793069, 0),
        (-69.282032303, 40, 0),
        (-79.663825372, 37.218206931, 15),
        (-69.282032303, 40, 15),
        (-72.063825372, 50.381793069, 15),
        (-82.44561844, 47.6, 15),
        (72.063825372, 50.381793069, 0),
        (82.44561844, 47.6, 0),
        (79.663825372, 37.218206931, 0),
        (69.282032303, 40, 0),
        (72.063825372, 50.381793069, 15),
        (69.282032303, 40, 15),
        (79.663825372, 37.218206931, 15),
        (82.44561844, 47.6, 15),
        (-45, -77.942286341, 0),
        (-45, -77.942286341, 15),
        (45, -77.942286341, 0),
        (-90, 0, 0),
        (-45, 77.942286341, 0),
        (45, 77.942286341, 0),
        (90, 0, 0),
        (0, -102.204325473, 0),
        (88.511542236, -51.102162736, 0),
        (88.511542236, 51.102162736, 0),
        (0, 102.204325473, 0),
        (-88.511542236, 51.102162736, 0),
        (-88.511542236, -51.102162736, 0),
        (-90, 0, 15),
        (45, -77.942286341, 15),
        (90, 0, 15),
        (45, 77.942286341, 15),
        (-45, 77.942286341, 15),
        (0, -102.204325473, 15),
        (88.511542236, -51.102162736, 15),
        (88.511542236, 51.102162736, 15),
        (0, 102.204325473, 15),
        (-88.511542236, 51.102162736, 15),
        (-88.511542236, -51.102162736, 15),
    ]]
    chamfer(chamfer1_edges, length=CHAMFER1_SIZE)


solid = part.part
